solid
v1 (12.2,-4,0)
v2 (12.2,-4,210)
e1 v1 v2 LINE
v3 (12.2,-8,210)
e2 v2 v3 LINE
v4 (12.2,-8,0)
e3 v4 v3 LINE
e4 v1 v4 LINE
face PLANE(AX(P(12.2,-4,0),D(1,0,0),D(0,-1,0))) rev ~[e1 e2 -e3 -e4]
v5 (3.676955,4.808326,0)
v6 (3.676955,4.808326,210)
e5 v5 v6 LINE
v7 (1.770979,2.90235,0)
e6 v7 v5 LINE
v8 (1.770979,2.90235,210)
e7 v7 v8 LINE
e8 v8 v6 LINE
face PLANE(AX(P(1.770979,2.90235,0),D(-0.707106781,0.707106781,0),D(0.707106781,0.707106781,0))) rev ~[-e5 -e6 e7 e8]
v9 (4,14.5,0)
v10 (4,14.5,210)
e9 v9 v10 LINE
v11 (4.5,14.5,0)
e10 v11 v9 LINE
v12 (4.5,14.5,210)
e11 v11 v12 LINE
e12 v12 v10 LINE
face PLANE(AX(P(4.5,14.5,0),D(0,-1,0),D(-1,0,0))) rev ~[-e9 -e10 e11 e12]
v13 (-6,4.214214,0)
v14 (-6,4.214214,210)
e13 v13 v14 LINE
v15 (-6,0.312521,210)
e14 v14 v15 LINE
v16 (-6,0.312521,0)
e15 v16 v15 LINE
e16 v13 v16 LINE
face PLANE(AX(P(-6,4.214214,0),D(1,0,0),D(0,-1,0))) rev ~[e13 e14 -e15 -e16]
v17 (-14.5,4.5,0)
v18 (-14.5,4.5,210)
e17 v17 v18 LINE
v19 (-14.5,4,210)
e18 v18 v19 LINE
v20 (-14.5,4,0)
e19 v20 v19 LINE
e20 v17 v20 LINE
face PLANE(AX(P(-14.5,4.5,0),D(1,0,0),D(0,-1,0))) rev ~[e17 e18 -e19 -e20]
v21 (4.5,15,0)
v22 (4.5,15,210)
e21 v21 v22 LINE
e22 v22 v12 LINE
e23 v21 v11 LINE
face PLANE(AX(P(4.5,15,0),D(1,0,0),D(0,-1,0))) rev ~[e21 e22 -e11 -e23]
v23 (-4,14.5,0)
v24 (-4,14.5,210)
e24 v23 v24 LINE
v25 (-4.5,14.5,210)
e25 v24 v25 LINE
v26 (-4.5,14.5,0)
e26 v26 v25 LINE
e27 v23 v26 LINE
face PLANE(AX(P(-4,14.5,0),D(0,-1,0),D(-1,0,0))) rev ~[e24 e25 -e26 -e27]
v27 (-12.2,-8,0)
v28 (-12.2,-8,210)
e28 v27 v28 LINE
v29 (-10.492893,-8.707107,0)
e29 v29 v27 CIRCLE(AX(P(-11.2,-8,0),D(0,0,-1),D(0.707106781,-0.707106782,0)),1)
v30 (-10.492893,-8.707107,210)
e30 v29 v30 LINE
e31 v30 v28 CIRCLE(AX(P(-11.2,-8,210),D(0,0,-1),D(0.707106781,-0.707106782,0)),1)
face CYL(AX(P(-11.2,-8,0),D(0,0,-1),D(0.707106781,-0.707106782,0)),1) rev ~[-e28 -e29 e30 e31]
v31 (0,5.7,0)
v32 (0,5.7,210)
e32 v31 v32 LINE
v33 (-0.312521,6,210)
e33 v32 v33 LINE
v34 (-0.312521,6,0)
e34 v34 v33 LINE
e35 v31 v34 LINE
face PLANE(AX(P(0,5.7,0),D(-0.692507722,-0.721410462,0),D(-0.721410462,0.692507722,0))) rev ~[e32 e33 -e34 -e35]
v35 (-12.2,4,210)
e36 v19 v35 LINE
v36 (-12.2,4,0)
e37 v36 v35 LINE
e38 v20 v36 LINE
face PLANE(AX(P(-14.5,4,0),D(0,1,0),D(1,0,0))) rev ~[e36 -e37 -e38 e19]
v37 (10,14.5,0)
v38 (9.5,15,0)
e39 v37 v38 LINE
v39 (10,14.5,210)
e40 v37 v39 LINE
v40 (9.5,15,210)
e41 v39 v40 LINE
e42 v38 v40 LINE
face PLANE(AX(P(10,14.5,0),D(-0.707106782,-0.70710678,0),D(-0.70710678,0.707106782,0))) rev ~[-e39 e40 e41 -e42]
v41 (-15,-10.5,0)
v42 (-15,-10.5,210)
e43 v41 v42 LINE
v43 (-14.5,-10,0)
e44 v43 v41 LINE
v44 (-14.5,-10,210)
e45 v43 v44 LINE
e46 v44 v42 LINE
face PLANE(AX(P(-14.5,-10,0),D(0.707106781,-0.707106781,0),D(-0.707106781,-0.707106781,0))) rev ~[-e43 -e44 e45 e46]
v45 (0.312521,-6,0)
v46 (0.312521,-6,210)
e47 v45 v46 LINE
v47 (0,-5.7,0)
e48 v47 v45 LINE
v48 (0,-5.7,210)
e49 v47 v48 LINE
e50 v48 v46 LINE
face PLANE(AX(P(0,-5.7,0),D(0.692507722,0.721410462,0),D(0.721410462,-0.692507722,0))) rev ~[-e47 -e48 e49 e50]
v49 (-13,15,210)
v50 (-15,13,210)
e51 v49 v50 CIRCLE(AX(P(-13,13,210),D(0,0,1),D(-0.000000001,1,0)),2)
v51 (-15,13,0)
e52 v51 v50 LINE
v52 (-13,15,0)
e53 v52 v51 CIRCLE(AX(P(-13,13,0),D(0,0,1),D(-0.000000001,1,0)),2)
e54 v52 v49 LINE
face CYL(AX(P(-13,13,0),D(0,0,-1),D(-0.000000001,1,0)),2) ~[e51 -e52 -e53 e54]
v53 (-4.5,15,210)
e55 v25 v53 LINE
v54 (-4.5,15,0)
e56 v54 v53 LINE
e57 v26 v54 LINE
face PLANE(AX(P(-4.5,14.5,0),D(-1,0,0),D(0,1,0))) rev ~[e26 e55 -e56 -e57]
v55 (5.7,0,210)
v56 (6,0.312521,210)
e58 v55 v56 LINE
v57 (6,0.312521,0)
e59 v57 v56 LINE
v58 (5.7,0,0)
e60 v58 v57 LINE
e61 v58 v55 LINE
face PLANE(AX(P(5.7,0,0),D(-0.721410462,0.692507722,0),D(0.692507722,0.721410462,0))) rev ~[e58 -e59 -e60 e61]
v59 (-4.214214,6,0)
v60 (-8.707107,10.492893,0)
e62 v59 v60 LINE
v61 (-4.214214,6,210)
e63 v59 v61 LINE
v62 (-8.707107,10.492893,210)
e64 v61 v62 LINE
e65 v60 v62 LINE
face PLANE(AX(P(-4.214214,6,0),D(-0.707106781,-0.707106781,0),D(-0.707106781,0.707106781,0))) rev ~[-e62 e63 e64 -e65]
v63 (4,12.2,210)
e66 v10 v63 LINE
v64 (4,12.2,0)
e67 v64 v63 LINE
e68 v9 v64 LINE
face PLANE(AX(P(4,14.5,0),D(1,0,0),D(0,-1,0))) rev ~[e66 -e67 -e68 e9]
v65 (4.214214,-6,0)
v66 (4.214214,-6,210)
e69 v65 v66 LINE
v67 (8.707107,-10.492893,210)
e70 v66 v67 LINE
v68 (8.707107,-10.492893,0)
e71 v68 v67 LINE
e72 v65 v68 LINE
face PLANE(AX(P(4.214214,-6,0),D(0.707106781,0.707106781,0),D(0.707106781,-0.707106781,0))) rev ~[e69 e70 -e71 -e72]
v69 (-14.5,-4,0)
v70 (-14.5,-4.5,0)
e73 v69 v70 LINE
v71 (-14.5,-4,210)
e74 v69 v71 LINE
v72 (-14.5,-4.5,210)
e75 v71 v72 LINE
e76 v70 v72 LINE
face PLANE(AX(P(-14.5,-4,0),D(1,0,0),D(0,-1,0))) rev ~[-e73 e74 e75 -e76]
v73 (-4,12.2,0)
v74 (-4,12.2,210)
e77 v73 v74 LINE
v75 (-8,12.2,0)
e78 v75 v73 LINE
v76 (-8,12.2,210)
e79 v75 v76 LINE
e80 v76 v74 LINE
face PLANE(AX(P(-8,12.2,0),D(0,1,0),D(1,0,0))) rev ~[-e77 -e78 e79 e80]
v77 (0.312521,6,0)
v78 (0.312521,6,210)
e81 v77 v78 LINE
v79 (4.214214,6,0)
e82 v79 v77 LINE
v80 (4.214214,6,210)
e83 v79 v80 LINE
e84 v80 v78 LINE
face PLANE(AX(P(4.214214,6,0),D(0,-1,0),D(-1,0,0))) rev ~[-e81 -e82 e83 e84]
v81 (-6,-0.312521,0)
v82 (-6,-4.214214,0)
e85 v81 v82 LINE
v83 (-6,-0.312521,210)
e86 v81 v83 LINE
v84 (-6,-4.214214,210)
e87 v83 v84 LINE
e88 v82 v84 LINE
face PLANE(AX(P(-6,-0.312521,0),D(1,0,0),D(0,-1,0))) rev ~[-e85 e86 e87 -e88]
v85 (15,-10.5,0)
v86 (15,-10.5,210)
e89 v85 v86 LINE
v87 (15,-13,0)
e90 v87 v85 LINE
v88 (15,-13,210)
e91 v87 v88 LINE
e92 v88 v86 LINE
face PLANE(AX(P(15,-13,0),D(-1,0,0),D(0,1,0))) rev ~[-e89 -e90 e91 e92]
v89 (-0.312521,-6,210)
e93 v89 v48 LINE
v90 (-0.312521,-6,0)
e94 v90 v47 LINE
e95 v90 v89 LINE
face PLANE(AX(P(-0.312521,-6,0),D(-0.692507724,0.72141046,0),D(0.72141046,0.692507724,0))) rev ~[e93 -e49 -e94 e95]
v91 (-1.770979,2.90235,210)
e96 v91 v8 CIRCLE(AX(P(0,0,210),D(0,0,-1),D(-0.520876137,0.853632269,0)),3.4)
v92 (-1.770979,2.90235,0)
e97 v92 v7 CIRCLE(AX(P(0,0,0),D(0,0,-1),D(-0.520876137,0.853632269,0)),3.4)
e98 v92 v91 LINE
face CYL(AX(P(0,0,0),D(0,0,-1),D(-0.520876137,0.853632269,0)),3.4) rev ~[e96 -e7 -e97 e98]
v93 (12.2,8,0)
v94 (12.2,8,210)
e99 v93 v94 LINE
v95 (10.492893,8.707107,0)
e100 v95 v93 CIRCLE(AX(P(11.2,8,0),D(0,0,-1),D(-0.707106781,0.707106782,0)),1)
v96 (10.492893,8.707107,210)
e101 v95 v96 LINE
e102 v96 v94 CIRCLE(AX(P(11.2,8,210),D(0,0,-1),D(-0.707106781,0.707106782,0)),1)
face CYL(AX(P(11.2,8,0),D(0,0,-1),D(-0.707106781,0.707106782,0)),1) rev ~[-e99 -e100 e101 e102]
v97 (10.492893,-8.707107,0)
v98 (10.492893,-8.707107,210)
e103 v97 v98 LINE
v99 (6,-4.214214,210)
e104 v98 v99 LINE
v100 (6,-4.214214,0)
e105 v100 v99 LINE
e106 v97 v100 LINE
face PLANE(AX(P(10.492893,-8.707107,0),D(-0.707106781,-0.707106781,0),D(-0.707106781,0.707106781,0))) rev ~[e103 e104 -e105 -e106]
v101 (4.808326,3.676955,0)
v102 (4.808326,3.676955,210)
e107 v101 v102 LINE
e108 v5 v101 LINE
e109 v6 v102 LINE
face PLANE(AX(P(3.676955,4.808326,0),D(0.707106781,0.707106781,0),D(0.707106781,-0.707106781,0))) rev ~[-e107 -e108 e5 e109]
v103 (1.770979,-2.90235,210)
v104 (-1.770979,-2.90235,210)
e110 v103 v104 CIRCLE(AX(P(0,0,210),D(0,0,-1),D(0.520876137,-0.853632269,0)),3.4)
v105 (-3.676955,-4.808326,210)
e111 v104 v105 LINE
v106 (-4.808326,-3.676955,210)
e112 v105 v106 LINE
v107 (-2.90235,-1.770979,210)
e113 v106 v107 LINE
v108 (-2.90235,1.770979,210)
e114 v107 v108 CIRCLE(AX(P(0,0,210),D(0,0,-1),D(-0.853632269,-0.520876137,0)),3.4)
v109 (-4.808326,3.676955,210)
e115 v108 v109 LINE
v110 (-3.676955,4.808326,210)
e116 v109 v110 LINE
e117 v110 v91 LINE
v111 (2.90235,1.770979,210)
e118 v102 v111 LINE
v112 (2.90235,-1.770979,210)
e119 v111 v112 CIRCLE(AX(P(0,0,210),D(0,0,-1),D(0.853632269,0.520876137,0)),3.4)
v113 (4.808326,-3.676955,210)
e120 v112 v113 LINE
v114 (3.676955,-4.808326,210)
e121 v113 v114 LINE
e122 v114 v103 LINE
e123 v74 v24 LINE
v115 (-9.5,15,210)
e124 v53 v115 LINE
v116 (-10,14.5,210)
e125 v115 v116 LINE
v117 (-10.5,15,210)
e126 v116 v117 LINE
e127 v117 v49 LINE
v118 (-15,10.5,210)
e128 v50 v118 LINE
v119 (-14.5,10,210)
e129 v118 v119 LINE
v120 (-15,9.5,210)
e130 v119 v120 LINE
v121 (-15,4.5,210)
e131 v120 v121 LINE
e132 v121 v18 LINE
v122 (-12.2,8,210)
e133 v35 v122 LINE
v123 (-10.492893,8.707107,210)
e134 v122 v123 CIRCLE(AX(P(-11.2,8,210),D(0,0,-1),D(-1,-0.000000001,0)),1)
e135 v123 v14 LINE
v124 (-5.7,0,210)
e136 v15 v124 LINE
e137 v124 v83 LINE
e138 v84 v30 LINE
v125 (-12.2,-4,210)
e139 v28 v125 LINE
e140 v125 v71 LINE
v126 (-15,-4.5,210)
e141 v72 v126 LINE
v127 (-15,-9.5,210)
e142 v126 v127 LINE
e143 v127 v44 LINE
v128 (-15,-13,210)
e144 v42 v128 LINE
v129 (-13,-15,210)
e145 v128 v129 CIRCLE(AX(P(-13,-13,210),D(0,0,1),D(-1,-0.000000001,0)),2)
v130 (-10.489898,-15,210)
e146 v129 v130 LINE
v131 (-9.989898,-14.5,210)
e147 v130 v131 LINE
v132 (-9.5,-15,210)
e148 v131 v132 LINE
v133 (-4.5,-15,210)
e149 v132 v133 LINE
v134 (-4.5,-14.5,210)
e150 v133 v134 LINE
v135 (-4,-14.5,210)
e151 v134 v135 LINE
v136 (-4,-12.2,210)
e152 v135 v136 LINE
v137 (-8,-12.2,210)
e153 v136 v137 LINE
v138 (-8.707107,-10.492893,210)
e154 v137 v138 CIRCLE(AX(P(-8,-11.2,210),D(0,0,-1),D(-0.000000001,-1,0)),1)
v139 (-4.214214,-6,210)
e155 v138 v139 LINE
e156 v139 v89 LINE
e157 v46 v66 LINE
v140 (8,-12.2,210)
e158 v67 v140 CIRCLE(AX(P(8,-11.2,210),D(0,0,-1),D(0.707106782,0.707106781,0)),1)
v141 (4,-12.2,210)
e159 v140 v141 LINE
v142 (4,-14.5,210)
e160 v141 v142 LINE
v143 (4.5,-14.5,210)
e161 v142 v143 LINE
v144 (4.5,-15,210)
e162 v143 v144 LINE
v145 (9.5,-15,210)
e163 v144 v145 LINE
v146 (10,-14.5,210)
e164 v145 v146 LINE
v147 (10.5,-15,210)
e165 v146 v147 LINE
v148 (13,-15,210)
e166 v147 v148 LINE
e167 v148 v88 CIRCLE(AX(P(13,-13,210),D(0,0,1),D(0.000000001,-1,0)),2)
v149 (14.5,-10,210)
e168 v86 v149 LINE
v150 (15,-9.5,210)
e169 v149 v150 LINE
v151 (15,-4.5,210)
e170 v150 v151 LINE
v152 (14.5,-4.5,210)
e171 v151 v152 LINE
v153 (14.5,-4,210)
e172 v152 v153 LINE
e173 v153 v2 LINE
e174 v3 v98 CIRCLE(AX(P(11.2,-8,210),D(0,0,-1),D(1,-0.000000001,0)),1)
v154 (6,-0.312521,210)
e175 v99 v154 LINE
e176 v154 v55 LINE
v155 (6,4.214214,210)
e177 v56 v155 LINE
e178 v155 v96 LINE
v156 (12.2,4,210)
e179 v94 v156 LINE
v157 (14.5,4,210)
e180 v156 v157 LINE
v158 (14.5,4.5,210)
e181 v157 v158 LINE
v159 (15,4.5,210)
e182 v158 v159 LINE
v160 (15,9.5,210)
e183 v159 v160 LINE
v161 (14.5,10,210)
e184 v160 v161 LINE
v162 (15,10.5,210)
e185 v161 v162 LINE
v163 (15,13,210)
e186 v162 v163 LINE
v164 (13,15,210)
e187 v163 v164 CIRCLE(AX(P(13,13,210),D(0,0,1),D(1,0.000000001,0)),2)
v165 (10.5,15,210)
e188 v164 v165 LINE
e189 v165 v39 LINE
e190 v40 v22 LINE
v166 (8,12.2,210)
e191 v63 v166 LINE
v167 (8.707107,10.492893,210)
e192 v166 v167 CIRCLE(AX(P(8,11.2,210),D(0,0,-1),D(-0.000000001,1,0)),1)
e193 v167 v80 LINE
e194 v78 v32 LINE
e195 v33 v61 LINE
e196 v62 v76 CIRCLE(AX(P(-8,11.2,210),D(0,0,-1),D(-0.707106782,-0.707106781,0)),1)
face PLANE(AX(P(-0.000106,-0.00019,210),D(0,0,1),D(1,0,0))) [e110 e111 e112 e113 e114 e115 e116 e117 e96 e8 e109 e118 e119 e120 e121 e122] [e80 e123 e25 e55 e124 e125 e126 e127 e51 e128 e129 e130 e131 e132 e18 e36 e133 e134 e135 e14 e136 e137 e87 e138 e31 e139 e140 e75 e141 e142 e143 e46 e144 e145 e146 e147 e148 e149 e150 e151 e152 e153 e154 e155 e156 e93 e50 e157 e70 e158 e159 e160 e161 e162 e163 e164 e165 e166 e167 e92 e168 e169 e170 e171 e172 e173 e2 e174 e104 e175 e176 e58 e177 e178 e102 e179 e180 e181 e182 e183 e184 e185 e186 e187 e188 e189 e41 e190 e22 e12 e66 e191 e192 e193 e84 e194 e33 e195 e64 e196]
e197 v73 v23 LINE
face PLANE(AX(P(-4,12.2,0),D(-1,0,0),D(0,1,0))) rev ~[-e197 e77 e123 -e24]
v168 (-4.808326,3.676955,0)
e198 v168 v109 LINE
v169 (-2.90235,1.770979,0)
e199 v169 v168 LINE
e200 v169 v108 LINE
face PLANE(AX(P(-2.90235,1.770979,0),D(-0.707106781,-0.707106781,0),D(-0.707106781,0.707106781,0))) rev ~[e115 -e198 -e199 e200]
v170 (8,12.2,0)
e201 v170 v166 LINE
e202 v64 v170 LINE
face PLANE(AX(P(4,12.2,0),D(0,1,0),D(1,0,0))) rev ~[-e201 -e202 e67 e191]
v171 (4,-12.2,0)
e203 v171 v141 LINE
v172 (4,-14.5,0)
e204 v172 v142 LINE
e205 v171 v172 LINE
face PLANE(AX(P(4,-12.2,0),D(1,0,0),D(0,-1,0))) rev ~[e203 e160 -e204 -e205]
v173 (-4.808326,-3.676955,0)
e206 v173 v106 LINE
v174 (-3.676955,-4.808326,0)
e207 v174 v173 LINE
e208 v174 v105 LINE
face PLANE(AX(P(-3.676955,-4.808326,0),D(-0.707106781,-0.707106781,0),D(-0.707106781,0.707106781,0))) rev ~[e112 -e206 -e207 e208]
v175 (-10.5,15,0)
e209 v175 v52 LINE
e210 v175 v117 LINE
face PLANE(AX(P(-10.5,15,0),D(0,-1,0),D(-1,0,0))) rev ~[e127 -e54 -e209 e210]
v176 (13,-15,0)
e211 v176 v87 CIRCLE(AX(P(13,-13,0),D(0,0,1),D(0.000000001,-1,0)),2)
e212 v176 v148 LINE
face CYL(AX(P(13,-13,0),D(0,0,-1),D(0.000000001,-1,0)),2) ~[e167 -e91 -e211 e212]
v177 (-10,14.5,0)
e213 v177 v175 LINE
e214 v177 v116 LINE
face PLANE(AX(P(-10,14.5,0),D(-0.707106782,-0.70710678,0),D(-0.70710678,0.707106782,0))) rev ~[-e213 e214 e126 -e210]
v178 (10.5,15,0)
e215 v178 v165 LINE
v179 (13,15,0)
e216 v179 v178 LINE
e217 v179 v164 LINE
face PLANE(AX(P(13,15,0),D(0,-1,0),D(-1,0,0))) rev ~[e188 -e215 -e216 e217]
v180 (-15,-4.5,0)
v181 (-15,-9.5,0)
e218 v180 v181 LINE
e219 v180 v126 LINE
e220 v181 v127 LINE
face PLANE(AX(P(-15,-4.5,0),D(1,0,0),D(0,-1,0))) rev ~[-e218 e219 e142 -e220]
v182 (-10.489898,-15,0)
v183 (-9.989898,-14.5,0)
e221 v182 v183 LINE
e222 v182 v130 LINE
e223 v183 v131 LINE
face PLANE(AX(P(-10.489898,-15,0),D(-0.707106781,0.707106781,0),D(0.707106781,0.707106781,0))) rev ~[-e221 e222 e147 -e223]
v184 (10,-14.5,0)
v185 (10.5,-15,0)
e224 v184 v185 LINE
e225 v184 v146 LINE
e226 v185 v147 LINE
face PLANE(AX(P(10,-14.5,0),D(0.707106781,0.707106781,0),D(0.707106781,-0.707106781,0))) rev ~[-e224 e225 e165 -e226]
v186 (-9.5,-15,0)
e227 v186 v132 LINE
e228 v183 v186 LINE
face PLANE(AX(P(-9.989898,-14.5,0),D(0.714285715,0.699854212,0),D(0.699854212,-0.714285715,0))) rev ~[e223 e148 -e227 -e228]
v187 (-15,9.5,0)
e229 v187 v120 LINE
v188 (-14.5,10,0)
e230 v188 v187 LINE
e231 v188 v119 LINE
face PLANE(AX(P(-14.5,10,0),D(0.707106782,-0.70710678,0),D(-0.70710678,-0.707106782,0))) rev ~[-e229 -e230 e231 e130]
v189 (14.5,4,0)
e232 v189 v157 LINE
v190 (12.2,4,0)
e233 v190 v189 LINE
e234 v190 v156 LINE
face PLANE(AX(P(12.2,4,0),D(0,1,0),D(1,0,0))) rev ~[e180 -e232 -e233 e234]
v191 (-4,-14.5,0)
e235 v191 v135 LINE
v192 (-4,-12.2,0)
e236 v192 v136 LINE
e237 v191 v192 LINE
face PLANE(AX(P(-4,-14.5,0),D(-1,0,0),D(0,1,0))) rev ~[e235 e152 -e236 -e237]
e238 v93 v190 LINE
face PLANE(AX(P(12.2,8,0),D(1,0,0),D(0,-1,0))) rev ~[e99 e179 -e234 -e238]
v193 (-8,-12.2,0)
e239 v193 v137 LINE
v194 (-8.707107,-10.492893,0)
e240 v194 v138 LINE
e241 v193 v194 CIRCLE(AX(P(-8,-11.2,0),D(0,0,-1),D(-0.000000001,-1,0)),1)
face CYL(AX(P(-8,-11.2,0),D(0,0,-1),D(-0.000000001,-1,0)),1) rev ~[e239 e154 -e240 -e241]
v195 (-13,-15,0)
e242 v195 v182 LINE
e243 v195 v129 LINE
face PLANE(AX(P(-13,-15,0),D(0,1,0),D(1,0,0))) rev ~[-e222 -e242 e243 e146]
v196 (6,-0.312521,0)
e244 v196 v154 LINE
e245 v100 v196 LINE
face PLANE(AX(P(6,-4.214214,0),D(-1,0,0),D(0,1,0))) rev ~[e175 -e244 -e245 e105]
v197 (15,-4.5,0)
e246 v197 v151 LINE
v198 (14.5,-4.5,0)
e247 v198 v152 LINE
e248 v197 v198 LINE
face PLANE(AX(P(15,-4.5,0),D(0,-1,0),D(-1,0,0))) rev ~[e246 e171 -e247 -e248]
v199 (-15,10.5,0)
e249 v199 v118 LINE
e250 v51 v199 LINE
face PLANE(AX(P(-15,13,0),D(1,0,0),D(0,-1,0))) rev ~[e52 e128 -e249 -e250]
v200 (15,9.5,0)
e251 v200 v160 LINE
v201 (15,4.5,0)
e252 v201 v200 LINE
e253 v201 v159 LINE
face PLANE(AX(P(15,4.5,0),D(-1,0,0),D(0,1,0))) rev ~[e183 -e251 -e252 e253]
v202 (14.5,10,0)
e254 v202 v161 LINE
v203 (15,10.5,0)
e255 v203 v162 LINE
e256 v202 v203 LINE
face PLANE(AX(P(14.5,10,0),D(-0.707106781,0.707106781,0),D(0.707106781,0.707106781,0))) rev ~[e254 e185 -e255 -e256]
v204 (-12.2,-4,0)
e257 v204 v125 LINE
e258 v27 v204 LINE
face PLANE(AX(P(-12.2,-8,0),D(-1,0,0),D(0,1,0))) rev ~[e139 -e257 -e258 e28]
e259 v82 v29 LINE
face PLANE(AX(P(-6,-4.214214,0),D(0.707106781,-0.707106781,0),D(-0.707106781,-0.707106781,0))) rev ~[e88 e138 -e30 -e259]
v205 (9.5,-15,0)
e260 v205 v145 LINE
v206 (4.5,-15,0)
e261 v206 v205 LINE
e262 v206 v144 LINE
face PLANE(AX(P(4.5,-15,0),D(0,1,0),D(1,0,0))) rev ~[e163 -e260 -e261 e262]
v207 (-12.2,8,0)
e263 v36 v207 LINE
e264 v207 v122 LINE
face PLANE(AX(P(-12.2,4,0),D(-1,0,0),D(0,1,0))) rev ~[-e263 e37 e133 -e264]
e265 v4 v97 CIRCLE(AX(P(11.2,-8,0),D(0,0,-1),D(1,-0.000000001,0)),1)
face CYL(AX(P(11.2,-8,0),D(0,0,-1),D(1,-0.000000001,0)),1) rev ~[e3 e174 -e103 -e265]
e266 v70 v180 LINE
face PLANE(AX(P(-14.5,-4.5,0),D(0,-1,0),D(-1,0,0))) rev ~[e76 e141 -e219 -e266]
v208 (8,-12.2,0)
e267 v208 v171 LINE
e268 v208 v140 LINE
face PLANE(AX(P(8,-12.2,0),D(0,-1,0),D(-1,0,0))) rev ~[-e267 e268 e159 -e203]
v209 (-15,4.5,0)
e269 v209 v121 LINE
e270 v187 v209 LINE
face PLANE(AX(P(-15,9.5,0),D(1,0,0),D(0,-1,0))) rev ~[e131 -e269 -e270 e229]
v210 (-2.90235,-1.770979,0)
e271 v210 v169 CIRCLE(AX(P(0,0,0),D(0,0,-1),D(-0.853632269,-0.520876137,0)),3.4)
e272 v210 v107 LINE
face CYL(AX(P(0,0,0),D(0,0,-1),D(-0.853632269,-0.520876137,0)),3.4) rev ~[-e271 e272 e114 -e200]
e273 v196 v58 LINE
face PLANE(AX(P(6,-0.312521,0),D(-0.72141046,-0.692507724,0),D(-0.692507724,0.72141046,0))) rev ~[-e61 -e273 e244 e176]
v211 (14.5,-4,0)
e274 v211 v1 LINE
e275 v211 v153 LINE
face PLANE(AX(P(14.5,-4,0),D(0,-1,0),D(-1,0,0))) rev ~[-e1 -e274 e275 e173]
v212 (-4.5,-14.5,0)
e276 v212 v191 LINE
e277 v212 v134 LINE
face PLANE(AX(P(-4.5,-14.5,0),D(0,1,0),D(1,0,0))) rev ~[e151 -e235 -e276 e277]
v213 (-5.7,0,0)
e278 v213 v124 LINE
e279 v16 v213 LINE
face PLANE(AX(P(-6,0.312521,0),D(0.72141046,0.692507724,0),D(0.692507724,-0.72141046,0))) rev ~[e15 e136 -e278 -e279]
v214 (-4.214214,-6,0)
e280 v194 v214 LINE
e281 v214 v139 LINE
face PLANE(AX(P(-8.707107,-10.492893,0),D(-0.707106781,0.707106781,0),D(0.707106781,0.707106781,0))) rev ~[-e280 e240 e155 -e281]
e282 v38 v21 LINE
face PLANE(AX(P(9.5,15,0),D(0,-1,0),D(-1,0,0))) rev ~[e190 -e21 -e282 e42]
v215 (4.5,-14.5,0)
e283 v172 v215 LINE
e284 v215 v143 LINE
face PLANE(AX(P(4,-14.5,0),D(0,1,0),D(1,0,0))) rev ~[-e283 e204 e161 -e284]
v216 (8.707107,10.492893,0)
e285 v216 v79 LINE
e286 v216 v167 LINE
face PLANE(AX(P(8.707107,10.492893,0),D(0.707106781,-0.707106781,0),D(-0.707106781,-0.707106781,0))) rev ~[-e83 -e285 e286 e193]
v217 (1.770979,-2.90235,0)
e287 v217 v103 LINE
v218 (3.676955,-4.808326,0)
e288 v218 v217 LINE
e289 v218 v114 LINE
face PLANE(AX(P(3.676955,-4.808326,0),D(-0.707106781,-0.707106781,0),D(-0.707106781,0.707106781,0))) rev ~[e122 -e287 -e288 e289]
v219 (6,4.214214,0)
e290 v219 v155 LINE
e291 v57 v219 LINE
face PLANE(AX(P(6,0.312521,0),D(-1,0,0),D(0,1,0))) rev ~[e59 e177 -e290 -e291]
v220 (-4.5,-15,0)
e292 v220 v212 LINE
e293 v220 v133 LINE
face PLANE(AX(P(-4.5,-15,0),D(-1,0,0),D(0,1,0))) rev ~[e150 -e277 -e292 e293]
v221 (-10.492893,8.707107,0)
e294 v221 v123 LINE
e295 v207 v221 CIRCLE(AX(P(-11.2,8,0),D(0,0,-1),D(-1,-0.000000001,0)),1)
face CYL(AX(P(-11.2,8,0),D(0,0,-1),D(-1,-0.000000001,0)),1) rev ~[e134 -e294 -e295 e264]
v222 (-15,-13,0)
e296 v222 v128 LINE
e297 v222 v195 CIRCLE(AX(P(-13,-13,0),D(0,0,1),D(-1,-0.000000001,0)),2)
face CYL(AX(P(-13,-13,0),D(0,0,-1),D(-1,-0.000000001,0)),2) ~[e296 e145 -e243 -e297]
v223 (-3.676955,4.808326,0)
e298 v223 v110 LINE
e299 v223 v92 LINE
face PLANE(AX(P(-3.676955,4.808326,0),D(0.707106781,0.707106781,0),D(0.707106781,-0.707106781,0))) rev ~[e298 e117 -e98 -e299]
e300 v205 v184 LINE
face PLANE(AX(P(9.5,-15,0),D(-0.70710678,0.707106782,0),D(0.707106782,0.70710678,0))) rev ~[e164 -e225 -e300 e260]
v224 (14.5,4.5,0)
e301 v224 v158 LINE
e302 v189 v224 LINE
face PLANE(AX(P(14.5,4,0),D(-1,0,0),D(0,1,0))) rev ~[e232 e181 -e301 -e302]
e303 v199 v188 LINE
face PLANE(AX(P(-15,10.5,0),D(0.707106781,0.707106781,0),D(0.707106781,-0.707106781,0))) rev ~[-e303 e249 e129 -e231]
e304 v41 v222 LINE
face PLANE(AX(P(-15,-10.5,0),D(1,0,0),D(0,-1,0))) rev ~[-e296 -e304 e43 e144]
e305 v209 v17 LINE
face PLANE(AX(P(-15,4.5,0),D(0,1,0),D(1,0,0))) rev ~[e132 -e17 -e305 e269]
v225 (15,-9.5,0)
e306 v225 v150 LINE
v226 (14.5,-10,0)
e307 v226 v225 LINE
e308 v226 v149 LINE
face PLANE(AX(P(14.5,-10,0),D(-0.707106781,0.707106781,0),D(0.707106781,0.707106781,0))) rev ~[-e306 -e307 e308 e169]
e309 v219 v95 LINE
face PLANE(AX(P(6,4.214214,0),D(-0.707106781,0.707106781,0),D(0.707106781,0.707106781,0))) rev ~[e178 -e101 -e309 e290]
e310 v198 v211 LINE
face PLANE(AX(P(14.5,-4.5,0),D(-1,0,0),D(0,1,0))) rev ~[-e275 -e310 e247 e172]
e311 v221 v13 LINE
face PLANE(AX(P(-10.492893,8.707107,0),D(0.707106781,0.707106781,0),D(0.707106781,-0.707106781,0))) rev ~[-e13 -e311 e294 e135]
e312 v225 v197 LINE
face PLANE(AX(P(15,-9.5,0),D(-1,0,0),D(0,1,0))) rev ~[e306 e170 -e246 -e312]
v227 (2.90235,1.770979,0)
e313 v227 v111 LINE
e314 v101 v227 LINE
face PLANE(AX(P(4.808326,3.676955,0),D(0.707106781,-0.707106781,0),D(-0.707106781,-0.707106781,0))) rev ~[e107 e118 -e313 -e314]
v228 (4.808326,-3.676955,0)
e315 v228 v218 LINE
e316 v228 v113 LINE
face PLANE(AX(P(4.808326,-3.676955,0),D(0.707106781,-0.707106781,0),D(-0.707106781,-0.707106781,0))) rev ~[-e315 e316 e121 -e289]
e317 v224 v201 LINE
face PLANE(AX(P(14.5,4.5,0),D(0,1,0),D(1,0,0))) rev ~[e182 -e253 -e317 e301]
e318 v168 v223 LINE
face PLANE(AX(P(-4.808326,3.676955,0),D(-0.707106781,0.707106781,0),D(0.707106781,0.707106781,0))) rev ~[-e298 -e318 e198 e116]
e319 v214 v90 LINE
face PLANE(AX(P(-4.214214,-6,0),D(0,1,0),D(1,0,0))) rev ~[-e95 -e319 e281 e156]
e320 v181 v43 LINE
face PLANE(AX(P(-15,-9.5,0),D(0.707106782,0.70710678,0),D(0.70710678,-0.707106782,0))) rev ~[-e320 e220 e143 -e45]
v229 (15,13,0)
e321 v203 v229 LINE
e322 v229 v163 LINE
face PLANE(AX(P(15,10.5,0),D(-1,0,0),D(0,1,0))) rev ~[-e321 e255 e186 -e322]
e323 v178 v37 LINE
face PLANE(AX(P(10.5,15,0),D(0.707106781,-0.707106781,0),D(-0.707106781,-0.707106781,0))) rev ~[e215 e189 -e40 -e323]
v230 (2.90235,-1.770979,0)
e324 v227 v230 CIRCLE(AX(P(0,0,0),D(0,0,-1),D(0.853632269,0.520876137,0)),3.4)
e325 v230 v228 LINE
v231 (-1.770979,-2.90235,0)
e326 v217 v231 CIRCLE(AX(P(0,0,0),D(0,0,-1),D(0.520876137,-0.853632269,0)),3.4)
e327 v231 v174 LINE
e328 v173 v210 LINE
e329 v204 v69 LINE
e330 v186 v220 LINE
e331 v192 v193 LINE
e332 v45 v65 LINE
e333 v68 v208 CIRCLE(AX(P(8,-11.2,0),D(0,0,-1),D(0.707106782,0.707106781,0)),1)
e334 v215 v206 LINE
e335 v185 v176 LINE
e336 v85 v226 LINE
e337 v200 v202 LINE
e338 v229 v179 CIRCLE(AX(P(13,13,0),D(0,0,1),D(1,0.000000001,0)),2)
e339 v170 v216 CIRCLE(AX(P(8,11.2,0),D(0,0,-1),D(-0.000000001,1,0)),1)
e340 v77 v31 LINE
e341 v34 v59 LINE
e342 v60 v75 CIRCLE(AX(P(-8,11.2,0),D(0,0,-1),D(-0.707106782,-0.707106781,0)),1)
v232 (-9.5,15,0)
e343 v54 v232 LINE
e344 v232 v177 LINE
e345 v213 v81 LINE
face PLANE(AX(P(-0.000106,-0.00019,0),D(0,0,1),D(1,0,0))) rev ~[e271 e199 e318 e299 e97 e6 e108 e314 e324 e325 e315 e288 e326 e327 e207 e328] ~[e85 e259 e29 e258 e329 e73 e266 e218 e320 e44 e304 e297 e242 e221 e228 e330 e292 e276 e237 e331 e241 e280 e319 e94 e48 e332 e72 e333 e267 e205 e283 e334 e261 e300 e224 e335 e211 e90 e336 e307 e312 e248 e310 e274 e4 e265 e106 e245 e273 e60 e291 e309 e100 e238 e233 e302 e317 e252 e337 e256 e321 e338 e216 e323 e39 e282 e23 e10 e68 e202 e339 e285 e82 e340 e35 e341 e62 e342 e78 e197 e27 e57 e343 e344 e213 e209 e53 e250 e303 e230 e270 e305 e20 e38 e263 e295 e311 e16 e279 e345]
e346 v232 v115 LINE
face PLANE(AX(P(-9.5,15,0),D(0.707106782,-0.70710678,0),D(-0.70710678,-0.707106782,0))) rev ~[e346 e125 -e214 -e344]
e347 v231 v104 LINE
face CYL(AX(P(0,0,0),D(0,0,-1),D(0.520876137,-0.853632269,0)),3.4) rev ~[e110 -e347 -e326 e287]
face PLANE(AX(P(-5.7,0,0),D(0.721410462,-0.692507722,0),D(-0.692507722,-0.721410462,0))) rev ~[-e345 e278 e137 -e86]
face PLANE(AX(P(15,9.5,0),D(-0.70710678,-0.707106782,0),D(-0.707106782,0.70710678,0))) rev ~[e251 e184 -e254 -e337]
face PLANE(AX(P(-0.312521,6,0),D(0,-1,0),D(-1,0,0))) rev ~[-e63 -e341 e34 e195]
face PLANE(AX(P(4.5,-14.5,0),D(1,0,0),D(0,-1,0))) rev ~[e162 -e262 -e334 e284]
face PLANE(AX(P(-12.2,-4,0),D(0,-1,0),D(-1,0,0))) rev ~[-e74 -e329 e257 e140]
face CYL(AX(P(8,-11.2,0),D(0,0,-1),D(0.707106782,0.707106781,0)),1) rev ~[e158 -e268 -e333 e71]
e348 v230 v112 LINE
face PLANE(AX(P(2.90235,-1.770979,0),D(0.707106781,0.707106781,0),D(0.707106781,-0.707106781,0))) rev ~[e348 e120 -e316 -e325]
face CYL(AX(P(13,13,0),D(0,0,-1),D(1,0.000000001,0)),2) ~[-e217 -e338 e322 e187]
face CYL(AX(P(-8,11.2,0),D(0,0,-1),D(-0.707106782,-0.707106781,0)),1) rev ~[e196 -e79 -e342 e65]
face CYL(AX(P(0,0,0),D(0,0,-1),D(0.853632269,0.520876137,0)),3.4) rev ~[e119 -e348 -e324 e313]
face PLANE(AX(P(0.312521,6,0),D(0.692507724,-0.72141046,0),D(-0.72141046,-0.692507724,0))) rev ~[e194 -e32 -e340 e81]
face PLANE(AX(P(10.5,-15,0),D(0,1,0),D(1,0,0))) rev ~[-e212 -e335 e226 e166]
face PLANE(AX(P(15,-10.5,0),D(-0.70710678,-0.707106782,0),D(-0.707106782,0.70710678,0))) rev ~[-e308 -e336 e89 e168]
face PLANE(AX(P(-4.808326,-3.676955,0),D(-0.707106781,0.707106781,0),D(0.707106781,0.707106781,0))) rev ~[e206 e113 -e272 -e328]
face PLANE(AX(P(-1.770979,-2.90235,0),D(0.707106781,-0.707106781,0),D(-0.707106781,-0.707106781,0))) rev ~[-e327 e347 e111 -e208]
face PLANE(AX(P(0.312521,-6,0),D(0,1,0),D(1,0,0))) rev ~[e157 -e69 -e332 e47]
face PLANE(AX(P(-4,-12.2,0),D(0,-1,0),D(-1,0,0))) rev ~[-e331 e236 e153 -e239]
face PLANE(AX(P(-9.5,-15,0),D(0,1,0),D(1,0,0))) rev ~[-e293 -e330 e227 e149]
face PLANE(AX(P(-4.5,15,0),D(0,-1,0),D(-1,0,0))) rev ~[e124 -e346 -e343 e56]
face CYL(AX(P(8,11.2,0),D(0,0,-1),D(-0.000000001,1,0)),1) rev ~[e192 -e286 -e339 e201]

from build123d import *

# Parameters (mm, degrees)
BOSS_EXTRUDE1_DEPTH = 210


with BuildPart() as part:
    # Sketch1 → Boss-Extrude1 (new body)
    with BuildSketch(Plane.XY):
        with BuildLine():
            Line((12.999999999, 14.999999999), (10.499999999, 14.999999999))
            Line((10.499999999, 14.999999999), (9.999999999, 14.499999999))
            Line((9.999999999, 14.499999999), (9.5, 14.999999999))
            Line((9.5, 14.999999999), (4.5, 14.999999999))
            Line((4.5, 14.999999999), (4.5, 14.5))
            Line((4.5, 14.5), (4, 14.5))
            Line((4, 14.5), (4, 12.200000005))
            Line((4, 12.200000005), (7.999999994, 12.200000005))
            ThreePointArc((7.999999994, 12.200000005), (8.923879532, 11.582683434), (8.707106779, 10.492893215))
            Line((8.707106779, 10.492893215), (4.214213564, 6))
            Line((4.214213564, 6), (0.312520901, 6))
            Line((0.312520901, 6), (0, 5.7))
            Line((0, 5.7), (-0.312520903, 6))
            Line((-0.312520903, 6), (-4.214213564, 6))
            Line((-4.214213564, 6), (-8.70710678, 10.492893215))
            ThreePointArc((-8.70710678, 10.492893215), (-8.923879532, 11.582683434), (-7.999999995, 12.200000005))
            Line((-7.999999995, 12.200000005), (-4, 12.200000005))
            Line((-4, 12.200000005), (-4, 14.5))
            Line((-4, 14.5), (-4.5, 14.5))
            Line((-4.5, 14.5), (-4.5, 14.999999999))
            Line((-4.5, 14.999999999), (-9.500000003, 14.999999999))
            Line((-9.500000003, 14.999999999), (-10.000000002, 14.499999999))
            Line((-10.000000002, 14.499999999), (-10.500000001, 14.999999999))
            Line((-10.500000001, 14.999999999), (-13, 14.999999999))
            ThreePointArc((-13, 14.999999999), (-14.414213562, 14.414213561), (-15, 12.999999999))
            Line((-15, 12.999999999), (-15, 10.5))
            Line((-15, 10.5), (-14.500000001, 10.000000001))
            Line((-14.500000001, 10.000000001), (-15, 9.500000001))
            Line((-15, 9.500000001), (-15, 4.5))
            Line((-15, 4.5), (-14.5, 4.5))
            Line((-14.5, 4.5), (-14.5, 4))
            Line((-14.5, 4), (-12.200000005, 4))
            Line((-12.200000005, 4), (-12.200000005, 7.999999994))
            ThreePointArc((-12.200000005, 7.999999994), (-11.582683434, 8.923879532), (-10.492893215, 8.707106779))
            Line((-10.492893215, 8.707106779), (-6, 4.214213564))
            Line((-6, 4.214213564), (-6, 0.312520901))
            Line((-6, 0.312520901), (-5.7, 0))
            Line((-5.7, 0), (-6, -0.312520903))
            Line((-6, -0.312520903), (-6, -4.214213564))
            Line((-6, -4.214213564), (-10.492893215, -8.70710678))
            ThreePointArc((-10.492893215, -8.70710678), (-11.582683434, -8.923879532), (-12.200000005, -7.999999995))
            Line((-12.200000005, -7.999999995), (-12.200000005, -4))
            Line((-12.200000005, -4), (-14.5, -4))
            Line((-14.5, -4), (-14.5, -4.5))
            Line((-14.5, -4.5), (-15, -4.5))
            Line((-15, -4.5), (-15, -9.500000001))
            Line((-15, -9.500000001), (-14.500000001, -10.000000001))
            Line((-14.500000001, -10.000000001), (-15, -10.5))
            Line((-15, -10.5), (-15, -13))
            ThreePointArc((-15, -13), (-14.414213562, -14.414213562), (-13, -15))
            Line((-13, -15), (-10.489897949, -15))
            Line((-10.489897949, -15), (-9.989897949, -14.5))
            Line((-9.989897949, -14.5), (-9.500000001, -15))
            Line((-9.500000001, -15), (-4.5, -15))
            Line((-4.5, -15), (-4.5, -14.5))
            Line((-4.5, -14.5), (-4, -14.5))
            Line((-4, -14.5), (-4, -12.200000005))
            Line((-4, -12.200000005), (-7.999999995, -12.200000005))
            ThreePointArc((-7.999999995, -12.200000005), (-8.923879532, -11.582683434), (-8.70710678, -10.492893215))
            Line((-8.70710678, -10.492893215), (-4.214213564, -6))
            Line((-4.214213564, -6), (-0.312520901, -6))
            Line((-0.312520901, -6), (0, -5.7))
            Line((0, -5.7), (0.312520903, -6))
            Line((0.312520903, -6), (4.214213564, -6))
            Line((4.214213564, -6), (8.70710678, -10.492893215))
            ThreePointArc((8.70710678, -10.492893215), (8.923879532, -11.582683434), (7.999999995, -12.200000005))
            Line((7.999999995, -12.200000005), (4, -12.200000005))
            Line((4, -12.200000005), (4, -14.5))
            Line((4, -14.5), (4.5, -14.5))
            Line((4.5, -14.5), (4.5, -15))
            Line((4.5, -15), (9.500000001, -15))
            Line((9.500000001, -15), (10.000000001, -14.500000001))
            Line((10.000000001, -14.500000001), (10.5, -15))
            Line((10.5, -15), (12.999999999, -15))
            ThreePointArc((12.999999999, -15), (14.414213561, -14.414213562), (14.999999999, -13))
            Line((14.999999999, -13), (14.999999999, -10.500000001))
            Line((14.999999999, -10.500000001), (14.499999999, -10.000000002))
            Line((14.499999999, -10.000000002), (14.999999999, -9.500000002))
            Line((14.999999999, -9.500000002), (14.999999999, -4.5))
            Line((14.999999999, -4.5), (14.5, -4.5))
            Line((14.5, -4.5), (14.5, -4))
            Line((14.5, -4), (12.200000005, -4))
            Line((12.200000005, -4), (12.200000005, -7.999999995))
            ThreePointArc((12.200000005, -7.999999995), (11.582683434, -8.923879532), (10.492893215, -8.70710678))
            Line((10.492893215, -8.70710678), (6, -4.214213564))
            Line((6, -4.214213564), (6, -0.312520901))
            Line((6, -0.312520901), (5.7, 0))
            Line((5.7, 0), (6, 0.312520903))
            Line((6, 0.312520903), (6, 4.214213564))
            Line((6, 4.214213564), (10.492893215, 8.70710678))
            ThreePointArc((10.492893215, 8.70710678), (11.582683434, 8.923879532), (12.200000005, 7.999999995))
            Line((12.200000005, 7.999999995), (12.200000005, 4))
            Line((12.200000005, 4), (14.5, 4))
            Line((14.5, 4), (14.5, 4.5))
            Line((14.5, 4.5), (14.999999999, 4.5))
            Line((14.999999999, 4.5), (14.999999999, 9.5))
            Line((14.999999999, 9.5), (14.499999999, 9.999999999))
            Line((14.499999999, 9.999999999), (14.999999999, 10.499999999))
            Line((14.999999999, 10.499999999), (14.999999999, 12.999999999))
            ThreePointArc((14.999999999, 12.999999999), (14.414213561, 14.414213561), (12.999999999, 14.999999999))
        make_face()
        with BuildLine():
            Line((-2.902349714, 1.770978864), (-4.808326112, 3.676955262))
            Line((-4.808326112, 3.676955262), (-3.676955262, 4.808326112))
            Line((-3.676955262, 4.808326112), (-1.770978864, 2.902349714))
            ThreePointArc((-1.770978864, 2.902349714), (0, 3.4), (1.770978864, 2.902349714))
            Line((1.770978864, 2.902349714), (3.676955262, 4.808326112))
            Line((3.676955262, 4.808326112), (4.808326112, 3.676955262))
            Line((4.808326112, 3.676955262), (2.902349714, 1.770978864))
            ThreePointArc((2.902349714, 1.770978864), (3.4, 0), (2.902349714, -1.770978864))
            Line((2.902349714, -1.770978864), (4.808326112, -3.676955262))
            Line((4.808326112, -3.676955262), (3.676955262, -4.808326112))
            Line((3.676955262, -4.808326112), (1.770978864, -2.902349714))
            ThreePointArc((1.770978864, -2.902349714), (0, -3.4), (-1.770978864, -2.902349714))
            Line((-1.770978864, -2.902349714), (-3.676955262, -4.808326112))
            Line((-3.676955262, -4.808326112), (-4.808326112, -3.676955262))
            Line((-4.808326112, -3.676955262), (-2.902349714, -1.770978864))
            ThreePointArc((-2.902349714, -1.770978864), (-3.4, 0), (-2.902349714, 1.770978864))
        make_face(mode=Mode.SUBTRACT)
    extrude(amount=BOSS_EXTRUDE1_DEPTH)


solid = part.part
